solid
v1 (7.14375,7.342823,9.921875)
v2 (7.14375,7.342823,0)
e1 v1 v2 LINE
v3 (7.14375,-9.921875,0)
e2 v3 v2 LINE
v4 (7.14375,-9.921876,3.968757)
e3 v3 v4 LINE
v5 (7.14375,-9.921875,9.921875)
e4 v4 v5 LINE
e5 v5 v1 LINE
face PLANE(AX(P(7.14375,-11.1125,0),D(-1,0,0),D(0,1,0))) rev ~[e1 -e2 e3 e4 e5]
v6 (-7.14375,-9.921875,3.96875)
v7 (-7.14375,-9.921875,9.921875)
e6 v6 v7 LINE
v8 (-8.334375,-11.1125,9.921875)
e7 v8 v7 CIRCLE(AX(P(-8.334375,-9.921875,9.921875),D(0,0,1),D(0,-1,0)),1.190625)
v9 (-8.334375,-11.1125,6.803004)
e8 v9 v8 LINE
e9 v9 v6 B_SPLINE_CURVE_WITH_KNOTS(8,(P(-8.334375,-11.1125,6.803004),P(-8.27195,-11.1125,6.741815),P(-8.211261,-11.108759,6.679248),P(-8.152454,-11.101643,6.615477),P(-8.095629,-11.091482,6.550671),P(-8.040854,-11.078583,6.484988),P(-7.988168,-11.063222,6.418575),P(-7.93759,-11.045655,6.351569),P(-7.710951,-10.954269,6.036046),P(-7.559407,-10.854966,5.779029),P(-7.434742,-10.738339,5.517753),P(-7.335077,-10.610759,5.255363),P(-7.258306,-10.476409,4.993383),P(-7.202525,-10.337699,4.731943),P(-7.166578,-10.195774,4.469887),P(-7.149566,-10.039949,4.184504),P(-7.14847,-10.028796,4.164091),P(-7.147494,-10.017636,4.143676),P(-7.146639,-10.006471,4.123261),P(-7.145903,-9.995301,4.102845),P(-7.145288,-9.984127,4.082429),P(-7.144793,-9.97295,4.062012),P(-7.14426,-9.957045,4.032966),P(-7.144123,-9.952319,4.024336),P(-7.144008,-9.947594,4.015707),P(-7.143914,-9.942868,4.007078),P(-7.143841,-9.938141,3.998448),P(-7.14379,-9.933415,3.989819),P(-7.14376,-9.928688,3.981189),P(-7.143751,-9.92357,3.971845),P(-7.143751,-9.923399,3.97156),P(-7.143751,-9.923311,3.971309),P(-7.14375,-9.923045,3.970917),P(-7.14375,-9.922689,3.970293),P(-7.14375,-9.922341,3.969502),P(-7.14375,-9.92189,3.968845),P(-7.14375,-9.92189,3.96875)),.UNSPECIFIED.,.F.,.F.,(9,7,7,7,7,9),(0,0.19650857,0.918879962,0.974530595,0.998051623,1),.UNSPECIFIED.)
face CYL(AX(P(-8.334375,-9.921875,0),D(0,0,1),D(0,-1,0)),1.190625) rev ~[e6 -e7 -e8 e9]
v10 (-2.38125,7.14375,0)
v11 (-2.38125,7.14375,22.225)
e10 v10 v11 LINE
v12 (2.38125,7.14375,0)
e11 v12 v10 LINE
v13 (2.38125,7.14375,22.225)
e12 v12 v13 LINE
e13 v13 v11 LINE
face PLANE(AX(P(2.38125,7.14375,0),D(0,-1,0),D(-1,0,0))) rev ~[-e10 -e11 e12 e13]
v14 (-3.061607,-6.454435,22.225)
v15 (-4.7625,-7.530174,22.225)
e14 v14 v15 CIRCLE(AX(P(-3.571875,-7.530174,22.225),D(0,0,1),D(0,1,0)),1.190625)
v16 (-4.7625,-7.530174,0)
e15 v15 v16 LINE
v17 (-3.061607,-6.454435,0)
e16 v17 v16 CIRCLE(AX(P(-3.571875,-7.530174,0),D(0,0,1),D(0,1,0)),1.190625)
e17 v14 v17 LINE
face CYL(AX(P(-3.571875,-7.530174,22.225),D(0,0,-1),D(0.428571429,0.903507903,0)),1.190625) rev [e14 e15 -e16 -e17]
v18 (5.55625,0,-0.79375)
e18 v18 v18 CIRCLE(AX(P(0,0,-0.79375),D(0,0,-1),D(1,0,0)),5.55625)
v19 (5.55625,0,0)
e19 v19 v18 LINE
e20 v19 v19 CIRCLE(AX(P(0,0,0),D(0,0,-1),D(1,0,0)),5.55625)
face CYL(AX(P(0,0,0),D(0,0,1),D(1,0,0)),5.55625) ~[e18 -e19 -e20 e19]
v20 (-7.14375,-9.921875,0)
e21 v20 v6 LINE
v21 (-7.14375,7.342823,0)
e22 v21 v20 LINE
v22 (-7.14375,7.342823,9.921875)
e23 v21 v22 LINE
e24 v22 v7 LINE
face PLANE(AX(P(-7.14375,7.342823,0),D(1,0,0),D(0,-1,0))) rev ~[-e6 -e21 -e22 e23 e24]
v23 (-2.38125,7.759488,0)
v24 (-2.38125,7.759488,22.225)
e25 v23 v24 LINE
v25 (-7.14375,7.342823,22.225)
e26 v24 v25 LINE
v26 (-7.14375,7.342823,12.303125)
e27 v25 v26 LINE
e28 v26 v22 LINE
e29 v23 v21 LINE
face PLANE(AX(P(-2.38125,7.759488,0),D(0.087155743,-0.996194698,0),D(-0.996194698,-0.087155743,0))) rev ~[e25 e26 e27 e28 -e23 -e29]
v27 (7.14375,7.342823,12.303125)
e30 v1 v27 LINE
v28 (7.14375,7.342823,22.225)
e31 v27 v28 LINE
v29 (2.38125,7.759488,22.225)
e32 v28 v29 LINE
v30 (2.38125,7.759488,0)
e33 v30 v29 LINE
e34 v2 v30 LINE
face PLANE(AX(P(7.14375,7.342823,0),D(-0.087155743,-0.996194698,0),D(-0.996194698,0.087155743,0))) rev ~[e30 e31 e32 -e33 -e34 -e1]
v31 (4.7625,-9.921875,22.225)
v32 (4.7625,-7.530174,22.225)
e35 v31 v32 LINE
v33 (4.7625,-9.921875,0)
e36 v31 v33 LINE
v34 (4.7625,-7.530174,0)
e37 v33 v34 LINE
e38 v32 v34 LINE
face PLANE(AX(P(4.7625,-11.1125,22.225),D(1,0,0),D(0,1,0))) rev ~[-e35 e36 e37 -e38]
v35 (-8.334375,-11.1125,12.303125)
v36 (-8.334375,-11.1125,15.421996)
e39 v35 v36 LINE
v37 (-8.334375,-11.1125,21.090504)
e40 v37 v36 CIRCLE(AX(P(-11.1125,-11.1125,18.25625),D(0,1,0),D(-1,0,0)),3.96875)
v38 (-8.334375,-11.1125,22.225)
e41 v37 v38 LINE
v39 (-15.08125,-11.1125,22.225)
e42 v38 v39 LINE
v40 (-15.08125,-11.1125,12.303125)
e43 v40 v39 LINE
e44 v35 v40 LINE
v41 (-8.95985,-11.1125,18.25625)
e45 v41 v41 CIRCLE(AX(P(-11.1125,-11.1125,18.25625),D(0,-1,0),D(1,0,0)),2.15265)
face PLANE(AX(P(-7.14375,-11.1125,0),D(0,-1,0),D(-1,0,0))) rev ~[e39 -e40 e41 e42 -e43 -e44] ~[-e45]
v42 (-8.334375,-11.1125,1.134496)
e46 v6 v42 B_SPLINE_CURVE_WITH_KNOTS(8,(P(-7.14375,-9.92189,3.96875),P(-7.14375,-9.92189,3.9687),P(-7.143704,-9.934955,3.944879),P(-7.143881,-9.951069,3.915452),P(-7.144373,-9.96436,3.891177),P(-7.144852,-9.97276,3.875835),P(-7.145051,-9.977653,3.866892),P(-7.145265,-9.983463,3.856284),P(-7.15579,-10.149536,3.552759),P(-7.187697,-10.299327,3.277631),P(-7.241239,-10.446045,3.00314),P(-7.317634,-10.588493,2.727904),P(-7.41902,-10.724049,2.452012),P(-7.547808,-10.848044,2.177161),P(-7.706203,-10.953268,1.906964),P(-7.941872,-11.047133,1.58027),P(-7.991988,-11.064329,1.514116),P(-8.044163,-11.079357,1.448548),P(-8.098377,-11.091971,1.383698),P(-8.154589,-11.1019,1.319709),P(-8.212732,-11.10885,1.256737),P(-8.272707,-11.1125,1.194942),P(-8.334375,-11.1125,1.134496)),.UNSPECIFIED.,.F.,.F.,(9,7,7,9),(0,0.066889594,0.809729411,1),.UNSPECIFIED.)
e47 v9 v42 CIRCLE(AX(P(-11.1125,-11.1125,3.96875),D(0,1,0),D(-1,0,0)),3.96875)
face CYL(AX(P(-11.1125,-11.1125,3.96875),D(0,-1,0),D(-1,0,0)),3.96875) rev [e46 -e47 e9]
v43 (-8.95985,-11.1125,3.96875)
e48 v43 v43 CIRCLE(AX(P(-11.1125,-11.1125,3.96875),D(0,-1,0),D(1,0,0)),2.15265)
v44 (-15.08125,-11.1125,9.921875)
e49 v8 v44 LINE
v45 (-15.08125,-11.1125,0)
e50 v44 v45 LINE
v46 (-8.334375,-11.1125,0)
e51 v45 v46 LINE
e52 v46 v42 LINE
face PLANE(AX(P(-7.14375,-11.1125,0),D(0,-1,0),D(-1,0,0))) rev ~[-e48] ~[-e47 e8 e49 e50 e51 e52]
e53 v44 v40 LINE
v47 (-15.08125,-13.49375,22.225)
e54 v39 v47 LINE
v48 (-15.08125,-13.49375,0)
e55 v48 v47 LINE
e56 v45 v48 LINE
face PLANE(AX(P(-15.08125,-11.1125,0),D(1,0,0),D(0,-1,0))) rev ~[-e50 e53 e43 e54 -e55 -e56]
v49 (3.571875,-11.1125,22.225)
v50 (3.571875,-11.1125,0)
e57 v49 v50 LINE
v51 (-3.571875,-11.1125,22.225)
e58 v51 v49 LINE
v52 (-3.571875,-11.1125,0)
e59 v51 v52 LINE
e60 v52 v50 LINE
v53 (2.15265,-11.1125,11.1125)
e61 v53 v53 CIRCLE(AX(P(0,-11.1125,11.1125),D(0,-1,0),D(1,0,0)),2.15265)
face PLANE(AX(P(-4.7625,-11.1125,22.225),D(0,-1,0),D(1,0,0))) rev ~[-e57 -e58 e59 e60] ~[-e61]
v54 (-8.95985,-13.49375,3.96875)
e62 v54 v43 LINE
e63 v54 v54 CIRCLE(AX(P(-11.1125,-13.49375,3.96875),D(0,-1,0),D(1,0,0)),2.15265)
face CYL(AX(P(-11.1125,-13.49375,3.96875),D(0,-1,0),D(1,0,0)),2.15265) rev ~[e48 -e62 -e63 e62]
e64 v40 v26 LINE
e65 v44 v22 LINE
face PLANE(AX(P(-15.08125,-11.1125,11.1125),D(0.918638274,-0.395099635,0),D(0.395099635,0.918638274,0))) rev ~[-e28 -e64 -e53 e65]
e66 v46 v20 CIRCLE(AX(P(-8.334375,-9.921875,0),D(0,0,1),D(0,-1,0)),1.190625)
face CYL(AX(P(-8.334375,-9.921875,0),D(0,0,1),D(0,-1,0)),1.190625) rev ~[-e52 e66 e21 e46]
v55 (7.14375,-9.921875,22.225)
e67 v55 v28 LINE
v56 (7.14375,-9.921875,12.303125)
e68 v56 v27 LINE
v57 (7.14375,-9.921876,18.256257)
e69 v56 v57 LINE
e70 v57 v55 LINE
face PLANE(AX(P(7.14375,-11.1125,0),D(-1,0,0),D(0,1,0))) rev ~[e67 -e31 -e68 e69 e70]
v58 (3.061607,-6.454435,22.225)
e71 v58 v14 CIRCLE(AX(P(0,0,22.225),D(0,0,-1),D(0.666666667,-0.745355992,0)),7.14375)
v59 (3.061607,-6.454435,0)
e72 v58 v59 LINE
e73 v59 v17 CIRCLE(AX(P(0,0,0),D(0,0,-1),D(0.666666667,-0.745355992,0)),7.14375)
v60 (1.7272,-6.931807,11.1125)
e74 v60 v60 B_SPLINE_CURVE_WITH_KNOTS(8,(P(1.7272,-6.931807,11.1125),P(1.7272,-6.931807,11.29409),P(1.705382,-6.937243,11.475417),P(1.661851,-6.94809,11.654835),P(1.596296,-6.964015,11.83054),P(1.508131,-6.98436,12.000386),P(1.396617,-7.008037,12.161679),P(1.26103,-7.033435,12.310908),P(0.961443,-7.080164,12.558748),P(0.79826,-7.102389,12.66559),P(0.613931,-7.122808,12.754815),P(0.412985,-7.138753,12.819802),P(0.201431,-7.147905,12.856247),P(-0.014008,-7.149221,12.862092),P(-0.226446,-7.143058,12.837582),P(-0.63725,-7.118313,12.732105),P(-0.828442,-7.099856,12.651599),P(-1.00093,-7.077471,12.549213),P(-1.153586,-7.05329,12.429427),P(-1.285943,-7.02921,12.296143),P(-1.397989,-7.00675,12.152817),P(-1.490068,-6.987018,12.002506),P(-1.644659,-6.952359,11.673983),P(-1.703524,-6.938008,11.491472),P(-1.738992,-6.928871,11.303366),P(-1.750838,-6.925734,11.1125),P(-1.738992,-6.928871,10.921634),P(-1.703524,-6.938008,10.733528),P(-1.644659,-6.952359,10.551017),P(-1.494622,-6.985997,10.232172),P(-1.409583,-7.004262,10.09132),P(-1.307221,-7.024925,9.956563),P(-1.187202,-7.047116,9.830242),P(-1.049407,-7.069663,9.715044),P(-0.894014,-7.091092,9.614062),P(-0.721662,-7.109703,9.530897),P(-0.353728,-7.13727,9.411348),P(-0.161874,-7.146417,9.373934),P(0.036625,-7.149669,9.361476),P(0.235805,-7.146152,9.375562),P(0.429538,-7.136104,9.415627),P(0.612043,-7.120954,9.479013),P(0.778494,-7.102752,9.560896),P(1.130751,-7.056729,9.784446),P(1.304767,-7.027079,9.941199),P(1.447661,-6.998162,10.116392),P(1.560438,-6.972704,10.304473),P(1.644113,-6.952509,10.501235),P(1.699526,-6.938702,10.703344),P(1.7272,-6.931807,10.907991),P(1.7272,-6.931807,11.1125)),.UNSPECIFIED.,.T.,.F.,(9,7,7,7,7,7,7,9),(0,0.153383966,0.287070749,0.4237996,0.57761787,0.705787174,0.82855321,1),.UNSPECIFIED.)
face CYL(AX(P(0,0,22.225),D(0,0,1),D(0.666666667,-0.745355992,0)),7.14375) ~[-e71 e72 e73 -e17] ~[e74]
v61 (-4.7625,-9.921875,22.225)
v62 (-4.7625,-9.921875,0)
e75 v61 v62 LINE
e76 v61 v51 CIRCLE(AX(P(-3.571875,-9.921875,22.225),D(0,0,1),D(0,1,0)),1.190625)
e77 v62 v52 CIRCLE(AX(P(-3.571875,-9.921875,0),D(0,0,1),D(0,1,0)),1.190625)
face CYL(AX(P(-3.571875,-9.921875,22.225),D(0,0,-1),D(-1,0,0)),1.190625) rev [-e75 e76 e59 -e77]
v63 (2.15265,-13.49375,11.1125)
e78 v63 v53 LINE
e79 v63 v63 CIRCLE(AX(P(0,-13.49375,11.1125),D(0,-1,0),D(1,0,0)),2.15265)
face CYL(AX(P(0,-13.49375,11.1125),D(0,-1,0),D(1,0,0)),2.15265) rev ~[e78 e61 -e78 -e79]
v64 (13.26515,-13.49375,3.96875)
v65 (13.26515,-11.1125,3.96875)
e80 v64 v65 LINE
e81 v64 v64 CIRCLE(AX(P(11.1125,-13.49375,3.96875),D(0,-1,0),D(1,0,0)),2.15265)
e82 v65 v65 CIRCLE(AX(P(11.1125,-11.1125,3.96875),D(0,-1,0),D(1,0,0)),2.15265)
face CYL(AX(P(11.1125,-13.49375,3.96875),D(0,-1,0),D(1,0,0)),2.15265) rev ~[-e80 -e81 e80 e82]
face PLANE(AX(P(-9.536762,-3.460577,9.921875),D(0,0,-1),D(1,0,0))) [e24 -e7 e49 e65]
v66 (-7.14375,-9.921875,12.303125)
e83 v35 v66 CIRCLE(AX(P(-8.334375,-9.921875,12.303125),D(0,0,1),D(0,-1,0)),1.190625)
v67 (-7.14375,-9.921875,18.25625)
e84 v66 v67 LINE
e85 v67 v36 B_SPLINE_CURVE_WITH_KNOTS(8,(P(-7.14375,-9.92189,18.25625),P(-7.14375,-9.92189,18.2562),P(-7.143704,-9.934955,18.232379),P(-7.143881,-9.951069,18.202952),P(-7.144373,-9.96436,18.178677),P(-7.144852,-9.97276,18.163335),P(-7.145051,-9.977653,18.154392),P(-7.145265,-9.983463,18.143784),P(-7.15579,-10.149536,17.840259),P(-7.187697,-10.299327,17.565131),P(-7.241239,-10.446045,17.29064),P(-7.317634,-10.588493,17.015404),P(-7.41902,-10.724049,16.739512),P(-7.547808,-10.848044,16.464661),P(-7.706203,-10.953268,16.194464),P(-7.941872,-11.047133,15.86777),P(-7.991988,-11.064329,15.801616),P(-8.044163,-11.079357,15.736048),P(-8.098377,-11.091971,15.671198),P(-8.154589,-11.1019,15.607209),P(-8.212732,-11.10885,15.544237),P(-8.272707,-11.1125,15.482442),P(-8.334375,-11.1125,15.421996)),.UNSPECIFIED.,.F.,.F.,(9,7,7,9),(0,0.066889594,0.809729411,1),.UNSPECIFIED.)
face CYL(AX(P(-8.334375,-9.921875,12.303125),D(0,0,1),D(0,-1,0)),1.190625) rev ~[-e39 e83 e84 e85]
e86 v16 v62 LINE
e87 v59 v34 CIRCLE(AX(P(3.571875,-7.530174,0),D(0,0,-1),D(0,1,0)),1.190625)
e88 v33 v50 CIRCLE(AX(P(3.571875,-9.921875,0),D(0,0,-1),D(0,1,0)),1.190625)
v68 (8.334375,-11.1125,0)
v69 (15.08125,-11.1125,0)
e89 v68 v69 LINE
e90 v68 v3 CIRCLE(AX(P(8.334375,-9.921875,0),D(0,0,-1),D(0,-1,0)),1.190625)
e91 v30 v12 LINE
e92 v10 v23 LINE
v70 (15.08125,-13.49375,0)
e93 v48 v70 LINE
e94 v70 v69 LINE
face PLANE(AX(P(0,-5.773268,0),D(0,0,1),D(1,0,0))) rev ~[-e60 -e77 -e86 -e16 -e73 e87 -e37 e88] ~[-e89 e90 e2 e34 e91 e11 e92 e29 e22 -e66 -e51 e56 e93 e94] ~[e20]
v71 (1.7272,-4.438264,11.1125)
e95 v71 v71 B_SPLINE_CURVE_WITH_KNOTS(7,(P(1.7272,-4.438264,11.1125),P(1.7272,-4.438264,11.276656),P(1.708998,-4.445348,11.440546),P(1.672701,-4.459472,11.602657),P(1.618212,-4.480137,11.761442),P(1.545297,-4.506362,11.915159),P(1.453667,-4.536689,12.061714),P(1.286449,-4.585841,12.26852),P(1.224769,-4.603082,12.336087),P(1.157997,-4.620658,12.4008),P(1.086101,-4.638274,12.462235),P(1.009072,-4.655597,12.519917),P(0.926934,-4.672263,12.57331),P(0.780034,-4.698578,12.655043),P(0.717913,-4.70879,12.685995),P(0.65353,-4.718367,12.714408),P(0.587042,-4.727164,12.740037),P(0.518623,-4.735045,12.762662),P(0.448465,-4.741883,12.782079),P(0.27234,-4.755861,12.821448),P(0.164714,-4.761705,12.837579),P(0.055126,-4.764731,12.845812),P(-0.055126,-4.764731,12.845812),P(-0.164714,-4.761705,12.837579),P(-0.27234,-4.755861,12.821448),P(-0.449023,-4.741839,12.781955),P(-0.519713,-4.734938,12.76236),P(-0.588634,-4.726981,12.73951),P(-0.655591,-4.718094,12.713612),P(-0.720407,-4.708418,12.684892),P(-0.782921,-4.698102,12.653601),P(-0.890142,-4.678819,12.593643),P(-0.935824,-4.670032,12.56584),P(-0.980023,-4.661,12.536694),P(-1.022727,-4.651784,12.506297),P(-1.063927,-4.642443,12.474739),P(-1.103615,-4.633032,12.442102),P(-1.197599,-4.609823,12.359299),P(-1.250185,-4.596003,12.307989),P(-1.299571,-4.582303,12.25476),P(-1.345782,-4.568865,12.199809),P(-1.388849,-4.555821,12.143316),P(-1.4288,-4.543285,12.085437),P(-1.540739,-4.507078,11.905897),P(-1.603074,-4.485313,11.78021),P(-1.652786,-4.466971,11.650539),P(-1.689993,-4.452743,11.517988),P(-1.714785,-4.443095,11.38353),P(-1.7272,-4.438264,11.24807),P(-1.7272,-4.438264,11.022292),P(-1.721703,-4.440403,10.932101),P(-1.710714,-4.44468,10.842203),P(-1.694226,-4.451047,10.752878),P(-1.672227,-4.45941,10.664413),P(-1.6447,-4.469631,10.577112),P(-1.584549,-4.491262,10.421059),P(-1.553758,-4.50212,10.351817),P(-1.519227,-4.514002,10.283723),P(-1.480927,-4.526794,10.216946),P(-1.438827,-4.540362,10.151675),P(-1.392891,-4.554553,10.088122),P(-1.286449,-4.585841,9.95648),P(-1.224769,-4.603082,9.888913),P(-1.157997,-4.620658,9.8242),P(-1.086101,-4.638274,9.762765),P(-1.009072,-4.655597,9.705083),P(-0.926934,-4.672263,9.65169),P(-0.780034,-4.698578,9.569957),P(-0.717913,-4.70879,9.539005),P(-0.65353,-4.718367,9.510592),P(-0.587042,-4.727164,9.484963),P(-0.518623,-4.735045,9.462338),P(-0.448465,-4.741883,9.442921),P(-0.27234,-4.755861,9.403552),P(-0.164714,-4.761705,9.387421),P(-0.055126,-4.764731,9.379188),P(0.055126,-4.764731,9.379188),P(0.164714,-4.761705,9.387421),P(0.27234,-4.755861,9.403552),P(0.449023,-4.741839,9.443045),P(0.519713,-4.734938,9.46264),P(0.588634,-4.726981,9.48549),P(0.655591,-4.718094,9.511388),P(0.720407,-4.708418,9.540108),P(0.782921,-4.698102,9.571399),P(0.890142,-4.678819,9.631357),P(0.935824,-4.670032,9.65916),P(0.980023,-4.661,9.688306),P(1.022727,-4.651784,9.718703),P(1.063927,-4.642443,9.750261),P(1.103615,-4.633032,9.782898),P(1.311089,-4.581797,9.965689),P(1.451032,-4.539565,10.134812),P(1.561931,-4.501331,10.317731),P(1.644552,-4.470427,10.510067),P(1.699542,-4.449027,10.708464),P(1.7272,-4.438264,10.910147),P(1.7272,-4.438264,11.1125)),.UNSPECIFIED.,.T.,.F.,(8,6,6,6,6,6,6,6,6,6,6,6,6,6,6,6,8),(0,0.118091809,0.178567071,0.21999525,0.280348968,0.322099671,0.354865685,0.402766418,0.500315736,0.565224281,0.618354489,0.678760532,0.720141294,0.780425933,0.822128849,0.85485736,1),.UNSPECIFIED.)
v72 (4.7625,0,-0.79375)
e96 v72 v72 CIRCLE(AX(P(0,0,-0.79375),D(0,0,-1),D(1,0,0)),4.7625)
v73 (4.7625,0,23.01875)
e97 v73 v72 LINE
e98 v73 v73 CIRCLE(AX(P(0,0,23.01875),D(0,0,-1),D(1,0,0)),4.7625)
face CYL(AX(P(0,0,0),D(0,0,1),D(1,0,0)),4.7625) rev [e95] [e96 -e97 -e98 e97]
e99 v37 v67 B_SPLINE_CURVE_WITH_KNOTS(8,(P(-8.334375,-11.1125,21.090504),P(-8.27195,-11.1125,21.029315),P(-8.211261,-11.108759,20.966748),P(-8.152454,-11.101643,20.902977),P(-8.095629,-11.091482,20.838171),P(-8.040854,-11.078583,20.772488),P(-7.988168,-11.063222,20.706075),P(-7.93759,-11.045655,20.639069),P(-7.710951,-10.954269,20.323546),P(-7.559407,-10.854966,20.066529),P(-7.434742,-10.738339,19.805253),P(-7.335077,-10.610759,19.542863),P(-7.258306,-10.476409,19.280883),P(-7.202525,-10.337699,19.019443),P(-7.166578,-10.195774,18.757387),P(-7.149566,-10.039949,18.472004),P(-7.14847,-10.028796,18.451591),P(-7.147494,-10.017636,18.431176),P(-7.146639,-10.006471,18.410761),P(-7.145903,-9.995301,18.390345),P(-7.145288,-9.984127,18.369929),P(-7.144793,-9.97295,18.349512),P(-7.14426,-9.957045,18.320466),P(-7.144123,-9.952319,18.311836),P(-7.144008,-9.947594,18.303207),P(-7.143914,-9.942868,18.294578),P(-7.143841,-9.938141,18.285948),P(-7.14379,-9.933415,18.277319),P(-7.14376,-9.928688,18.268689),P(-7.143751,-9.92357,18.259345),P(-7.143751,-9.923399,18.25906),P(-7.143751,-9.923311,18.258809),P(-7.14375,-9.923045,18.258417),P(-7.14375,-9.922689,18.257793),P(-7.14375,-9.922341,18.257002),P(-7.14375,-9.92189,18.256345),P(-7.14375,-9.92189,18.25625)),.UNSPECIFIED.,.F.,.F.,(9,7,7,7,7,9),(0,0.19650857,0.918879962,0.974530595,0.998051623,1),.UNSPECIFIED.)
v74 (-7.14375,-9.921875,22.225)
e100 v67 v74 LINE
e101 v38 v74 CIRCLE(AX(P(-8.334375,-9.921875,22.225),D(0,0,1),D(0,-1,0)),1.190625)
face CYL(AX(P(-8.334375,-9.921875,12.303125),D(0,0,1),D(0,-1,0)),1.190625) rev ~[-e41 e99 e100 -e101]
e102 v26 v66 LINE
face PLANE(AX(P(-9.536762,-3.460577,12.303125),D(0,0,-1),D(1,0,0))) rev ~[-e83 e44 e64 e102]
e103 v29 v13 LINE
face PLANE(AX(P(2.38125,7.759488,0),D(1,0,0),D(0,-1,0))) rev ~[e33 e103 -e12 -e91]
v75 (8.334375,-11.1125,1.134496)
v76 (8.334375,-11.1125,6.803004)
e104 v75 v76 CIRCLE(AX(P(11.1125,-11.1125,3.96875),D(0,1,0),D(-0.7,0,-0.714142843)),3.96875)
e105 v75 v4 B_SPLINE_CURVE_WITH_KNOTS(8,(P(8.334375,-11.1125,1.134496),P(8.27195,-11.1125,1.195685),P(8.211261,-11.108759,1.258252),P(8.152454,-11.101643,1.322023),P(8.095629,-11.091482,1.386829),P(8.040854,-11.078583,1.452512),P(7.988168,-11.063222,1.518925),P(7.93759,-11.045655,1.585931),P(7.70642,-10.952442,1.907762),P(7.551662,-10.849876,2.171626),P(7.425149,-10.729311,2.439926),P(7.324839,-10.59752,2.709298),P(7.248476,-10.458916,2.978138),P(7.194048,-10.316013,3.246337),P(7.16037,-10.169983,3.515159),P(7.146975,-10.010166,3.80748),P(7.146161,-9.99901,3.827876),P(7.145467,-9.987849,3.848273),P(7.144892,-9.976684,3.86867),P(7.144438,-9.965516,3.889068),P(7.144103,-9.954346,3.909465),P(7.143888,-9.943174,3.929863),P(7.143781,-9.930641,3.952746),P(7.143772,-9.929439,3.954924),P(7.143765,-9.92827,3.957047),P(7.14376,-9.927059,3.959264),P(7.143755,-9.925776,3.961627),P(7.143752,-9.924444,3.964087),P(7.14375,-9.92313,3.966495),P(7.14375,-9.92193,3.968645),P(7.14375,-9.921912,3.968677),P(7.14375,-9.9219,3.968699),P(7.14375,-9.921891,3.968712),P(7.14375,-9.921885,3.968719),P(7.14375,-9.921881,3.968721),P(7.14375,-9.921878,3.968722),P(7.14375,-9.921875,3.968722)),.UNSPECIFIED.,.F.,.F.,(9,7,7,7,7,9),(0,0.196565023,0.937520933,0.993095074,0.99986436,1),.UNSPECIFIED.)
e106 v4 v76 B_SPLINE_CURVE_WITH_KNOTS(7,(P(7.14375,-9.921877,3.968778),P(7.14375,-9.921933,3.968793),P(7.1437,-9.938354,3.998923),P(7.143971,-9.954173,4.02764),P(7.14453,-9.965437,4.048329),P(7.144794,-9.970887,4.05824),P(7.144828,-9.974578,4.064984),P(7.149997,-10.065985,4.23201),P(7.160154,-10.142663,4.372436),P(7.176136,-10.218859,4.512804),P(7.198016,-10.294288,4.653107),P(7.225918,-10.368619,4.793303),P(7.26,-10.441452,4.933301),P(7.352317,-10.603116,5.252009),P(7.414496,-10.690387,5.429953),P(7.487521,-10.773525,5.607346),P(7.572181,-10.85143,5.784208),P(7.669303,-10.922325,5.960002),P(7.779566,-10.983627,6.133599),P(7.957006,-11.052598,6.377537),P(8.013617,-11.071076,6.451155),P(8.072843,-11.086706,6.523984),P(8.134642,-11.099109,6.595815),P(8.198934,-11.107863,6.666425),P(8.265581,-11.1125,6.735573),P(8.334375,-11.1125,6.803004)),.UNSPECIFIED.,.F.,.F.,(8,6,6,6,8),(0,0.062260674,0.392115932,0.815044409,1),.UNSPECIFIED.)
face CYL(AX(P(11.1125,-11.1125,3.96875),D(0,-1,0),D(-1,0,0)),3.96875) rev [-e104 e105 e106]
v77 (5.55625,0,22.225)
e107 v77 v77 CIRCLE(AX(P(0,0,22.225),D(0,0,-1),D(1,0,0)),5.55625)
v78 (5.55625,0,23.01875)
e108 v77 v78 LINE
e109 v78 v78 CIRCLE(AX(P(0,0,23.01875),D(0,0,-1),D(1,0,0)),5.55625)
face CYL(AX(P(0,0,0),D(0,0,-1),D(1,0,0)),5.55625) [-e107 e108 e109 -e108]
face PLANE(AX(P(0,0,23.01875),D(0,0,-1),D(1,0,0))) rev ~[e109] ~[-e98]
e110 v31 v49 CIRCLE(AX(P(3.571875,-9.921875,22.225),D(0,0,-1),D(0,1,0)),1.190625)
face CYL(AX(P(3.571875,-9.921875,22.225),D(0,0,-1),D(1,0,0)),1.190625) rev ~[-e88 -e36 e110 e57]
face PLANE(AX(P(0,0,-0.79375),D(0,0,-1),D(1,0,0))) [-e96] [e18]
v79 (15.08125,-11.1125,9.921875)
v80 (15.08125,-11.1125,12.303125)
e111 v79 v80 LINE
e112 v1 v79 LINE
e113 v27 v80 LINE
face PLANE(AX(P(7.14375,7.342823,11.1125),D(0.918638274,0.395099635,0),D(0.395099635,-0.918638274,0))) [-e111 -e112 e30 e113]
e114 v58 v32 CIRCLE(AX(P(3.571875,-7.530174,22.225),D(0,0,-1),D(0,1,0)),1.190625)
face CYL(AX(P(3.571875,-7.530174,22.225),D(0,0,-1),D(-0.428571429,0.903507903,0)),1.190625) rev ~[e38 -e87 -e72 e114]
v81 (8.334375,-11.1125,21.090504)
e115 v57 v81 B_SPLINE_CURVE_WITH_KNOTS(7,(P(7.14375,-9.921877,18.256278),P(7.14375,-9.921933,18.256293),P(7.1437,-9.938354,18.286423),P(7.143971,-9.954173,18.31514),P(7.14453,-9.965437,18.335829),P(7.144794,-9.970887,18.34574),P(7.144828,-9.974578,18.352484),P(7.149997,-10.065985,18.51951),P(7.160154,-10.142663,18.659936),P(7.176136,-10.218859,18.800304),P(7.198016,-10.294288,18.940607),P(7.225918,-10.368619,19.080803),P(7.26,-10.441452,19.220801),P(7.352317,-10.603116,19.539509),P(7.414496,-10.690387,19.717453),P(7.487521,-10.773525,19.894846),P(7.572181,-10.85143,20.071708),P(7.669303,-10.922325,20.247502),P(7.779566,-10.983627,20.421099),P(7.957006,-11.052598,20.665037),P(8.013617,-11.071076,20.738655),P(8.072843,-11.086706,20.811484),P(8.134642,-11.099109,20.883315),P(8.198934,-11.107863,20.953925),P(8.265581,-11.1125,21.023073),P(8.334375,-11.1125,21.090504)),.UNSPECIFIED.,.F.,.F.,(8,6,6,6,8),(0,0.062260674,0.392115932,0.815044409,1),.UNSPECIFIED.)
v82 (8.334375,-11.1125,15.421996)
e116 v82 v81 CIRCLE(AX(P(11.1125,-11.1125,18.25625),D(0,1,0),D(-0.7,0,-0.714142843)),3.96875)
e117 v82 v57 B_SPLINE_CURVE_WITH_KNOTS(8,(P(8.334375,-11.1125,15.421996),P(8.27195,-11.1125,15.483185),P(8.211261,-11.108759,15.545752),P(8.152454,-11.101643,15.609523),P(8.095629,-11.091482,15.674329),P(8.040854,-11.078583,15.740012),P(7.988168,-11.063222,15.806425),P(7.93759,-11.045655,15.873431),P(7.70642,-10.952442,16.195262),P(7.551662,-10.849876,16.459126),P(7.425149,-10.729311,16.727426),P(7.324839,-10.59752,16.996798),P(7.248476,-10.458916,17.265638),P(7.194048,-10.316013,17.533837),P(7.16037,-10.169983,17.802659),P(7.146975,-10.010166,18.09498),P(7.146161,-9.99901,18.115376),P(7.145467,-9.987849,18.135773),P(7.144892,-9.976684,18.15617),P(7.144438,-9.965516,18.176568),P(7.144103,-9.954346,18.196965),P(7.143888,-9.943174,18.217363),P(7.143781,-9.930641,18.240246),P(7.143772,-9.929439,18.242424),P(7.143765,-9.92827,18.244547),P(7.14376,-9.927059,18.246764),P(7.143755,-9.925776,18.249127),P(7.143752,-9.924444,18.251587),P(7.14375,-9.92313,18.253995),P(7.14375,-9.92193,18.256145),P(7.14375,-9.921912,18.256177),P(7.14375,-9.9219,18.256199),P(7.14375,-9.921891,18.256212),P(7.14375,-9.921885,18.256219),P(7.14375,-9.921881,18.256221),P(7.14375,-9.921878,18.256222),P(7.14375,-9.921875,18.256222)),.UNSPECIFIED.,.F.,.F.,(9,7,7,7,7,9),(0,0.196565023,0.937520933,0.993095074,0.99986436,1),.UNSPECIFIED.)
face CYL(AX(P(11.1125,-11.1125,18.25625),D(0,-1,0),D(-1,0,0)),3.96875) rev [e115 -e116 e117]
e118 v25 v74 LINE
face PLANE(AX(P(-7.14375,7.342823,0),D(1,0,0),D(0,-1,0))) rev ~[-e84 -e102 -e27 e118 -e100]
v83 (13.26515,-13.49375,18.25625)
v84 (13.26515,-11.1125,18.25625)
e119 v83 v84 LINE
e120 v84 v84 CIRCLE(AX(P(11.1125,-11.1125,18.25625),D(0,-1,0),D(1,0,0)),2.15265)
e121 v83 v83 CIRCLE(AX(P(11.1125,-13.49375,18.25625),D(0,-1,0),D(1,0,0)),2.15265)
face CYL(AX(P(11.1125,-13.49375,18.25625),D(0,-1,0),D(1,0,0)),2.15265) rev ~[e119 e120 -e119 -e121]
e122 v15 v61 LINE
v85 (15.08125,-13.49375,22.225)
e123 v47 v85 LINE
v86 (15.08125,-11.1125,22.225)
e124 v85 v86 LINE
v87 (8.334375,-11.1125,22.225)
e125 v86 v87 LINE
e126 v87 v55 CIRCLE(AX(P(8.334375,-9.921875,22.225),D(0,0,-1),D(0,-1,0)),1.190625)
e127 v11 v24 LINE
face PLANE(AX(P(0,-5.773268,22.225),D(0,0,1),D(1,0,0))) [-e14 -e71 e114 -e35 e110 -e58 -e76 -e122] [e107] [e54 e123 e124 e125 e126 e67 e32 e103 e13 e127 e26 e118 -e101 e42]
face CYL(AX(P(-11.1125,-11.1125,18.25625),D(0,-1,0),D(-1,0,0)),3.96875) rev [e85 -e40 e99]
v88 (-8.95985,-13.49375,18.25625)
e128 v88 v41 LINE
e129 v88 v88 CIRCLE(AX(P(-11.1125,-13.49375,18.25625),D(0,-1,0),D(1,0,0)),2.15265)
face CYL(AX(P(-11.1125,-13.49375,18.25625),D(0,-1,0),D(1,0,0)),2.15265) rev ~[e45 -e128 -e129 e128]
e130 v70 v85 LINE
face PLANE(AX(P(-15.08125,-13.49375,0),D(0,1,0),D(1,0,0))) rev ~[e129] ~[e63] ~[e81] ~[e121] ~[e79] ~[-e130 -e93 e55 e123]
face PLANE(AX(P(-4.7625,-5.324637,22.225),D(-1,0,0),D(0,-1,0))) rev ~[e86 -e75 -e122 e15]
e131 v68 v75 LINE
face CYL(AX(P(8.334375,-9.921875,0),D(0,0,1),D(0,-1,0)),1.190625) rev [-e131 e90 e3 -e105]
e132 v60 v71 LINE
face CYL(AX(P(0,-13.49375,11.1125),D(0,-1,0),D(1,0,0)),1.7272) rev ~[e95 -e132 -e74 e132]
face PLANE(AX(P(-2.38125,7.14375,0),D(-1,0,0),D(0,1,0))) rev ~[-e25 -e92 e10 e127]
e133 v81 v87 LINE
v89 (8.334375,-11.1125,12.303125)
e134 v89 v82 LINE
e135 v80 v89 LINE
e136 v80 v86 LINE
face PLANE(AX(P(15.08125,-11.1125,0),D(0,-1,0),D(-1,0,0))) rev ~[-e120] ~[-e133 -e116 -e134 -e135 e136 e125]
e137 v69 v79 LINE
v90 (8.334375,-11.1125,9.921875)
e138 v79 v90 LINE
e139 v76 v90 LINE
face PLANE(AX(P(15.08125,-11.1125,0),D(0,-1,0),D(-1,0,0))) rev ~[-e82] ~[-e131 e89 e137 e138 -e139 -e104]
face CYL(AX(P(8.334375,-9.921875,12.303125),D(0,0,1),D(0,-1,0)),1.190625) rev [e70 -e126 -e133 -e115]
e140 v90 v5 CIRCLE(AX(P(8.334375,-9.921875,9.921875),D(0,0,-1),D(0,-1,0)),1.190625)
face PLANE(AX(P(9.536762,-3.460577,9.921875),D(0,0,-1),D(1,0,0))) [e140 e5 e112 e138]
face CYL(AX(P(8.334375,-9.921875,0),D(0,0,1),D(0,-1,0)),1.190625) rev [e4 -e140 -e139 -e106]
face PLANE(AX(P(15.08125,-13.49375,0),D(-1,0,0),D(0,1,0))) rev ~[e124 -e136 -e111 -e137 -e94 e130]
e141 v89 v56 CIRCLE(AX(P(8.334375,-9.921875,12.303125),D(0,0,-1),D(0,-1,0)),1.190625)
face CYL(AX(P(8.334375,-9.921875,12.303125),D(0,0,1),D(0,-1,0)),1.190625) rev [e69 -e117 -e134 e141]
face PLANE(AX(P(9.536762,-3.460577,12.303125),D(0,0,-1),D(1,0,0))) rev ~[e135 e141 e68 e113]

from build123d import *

# Parameters (mm, degrees)
F0_R          = 4.7625
F1_DEPTH      = 22.225
F4_DEPTH      = 1.190625
F5_R          = 5.55625
F5_R_2        = 4.7625
F7_DEPTH      = 0.79375
F7_DEPTH_BACK = 23.01875
F8_R          = 1.7272
F9_DEPTH      = 10.0554862042
F11_DEPTH     = 22.225
F12_R         = 2.15265
F13_DEPTH     = 2.38125
F14_R         = 1.190625
F15_R         = 2.15265
F16_DEPTH     = 2.38125
F17_R         = 3.96875
F18_DEPTH     = 18.8729875805


with BuildPart() as f1:
    # F0 (on Top) → F1 (new body)
    with BuildSketch(Plane.XY):
        Polygon((-15.08125, -13.49375), (15.08125, -13.49375), (15.08125, -11.1125), (7.14375, -11.1125), (7.14375, 7.3428228204), (2.38125, 7.7594875805), (2.38125, 7.14375), (-2.38125, 7.14375), (-2.38125, 7.7594875805), (-7.14375, 7.3428228204), (-7.14375, -11.1125), (-15.08125, -11.1125), align=None)
        Circle(F0_R, mode=Mode.SUBTRACT)
    extrude(amount=F1_DEPTH)

    # F3 (on offset) → F4 (join, symmetric)
    with BuildSketch(Plane(origin=(0, 0, 11.1125), x_dir=(1, 0, 0), z_dir=(0, 0, -1))):
        Polygon((-15.08125, 11.1125), (-7.14375, -7.3428228204), (-7.14375, 11.1125), align=None)
        Polygon((15.08125, 11.1125), (7.14375, 11.1125), (7.14375, -7.3428228204), align=None)
    extrude(amount=F4_DEPTH, both=True)

    # F5 (on face) → F7 (join, two sides)
    with BuildSketch(Plane(origin=(0, 0, 0), x_dir=(1, 0, 0), z_dir=(0, 0, -1))) as f7_sk:
        Circle(F5_R)
        Circle(F5_R_2, mode=Mode.SUBTRACT)
    extrude(amount=F7_DEPTH)
    extrude(f7_sk.sketch, amount=-F7_DEPTH_BACK)

    # F8 (on face) → F9 (cut, up to face)
    with BuildSketch(Plane.XZ.offset(13.49375)):
        with Locations((0, 11.1125)):
            Circle(F8_R)
    extrude(amount=-F9_DEPTH, mode=Mode.SUBTRACT)

    # F10 (on face) → F11 (cut, through all)
    with BuildSketch(Plane.XY.offset(22.225)):
        with BuildLine():
            Line((-4.7625, -5.3246368714), (-4.7625, -11.1125))
            Line((-4.7625, -11.1125), (4.7625, -11.1125))
            Line((4.7625, -11.1125), (4.7625, -5.3246368714))
            ThreePointArc((4.7625, -5.3246368714), (0, -7.14375), (-4.7625, -5.3246368714))
        make_face()
    extrude(amount=-F11_DEPTH, mode=Mode.SUBTRACT)

    # F12 (on face) → F13 (cut, through all)
    with BuildSketch(Plane.XZ.offset(13.49375)):
        with Locations((0, 11.1125)):
            Circle(F12_R)
    extrude(amount=-F13_DEPTH, mode=Mode.SUBTRACT)

    # F14
    f14_edges = [f1.edges().sort_by_distance(p)[0] for p in [
        (7.14375, -11.1125, 4.960938),
        (7.14375, -11.1125, 17.264063),
        (-7.14375, -11.1125, 4.960938),
        (-7.14375, -11.1125, 17.264063),
        (-4.7625, -11.1125, 11.1125),
        (4.7625, -11.1125, 11.1125),
        (4.7625, -5.324637, 11.1125),
        (-4.7625, -5.324637, 11.1125),
    ]]
    fillet(f14_edges, radius=F14_R)

    # F15 (on face) → F16 (cut, through all)
    with BuildSketch(Plane.XZ.offset(13.49375)):
        with Locations((11.1125, 18.25625)):
            Circle(F15_R)
        with Locations((-11.1125, 18.25625)):
            Circle(F15_R)
        with Locations((-11.1125, 3.96875)):
            Circle(F15_R)
        with Locations((11.1125, 3.96875)):
            Circle(F15_R)
    extrude(amount=-F16_DEPTH, mode=Mode.SUBTRACT)

    # F17 (on face) → F18 (cut, through all)
    with BuildSketch(Plane(origin=(0, -11.1125, 0), x_dir=(-1, 0, 0), z_dir=(0, 1, 0))):
        with Locations((11.1125000001, 18.25625)):
            Circle(F17_R)
        with Locations((11.1125000001, 3.96875)):
            Circle(F17_R)
        with Locations((-11.1124999999, 3.96875)):
            Circle(F17_R)
        with Locations((-11.1124999999, 18.25625)):
            Circle(F17_R)
    extrude(amount=F18_DEPTH, mode=Mode.SUBTRACT)


solid = f1.part
